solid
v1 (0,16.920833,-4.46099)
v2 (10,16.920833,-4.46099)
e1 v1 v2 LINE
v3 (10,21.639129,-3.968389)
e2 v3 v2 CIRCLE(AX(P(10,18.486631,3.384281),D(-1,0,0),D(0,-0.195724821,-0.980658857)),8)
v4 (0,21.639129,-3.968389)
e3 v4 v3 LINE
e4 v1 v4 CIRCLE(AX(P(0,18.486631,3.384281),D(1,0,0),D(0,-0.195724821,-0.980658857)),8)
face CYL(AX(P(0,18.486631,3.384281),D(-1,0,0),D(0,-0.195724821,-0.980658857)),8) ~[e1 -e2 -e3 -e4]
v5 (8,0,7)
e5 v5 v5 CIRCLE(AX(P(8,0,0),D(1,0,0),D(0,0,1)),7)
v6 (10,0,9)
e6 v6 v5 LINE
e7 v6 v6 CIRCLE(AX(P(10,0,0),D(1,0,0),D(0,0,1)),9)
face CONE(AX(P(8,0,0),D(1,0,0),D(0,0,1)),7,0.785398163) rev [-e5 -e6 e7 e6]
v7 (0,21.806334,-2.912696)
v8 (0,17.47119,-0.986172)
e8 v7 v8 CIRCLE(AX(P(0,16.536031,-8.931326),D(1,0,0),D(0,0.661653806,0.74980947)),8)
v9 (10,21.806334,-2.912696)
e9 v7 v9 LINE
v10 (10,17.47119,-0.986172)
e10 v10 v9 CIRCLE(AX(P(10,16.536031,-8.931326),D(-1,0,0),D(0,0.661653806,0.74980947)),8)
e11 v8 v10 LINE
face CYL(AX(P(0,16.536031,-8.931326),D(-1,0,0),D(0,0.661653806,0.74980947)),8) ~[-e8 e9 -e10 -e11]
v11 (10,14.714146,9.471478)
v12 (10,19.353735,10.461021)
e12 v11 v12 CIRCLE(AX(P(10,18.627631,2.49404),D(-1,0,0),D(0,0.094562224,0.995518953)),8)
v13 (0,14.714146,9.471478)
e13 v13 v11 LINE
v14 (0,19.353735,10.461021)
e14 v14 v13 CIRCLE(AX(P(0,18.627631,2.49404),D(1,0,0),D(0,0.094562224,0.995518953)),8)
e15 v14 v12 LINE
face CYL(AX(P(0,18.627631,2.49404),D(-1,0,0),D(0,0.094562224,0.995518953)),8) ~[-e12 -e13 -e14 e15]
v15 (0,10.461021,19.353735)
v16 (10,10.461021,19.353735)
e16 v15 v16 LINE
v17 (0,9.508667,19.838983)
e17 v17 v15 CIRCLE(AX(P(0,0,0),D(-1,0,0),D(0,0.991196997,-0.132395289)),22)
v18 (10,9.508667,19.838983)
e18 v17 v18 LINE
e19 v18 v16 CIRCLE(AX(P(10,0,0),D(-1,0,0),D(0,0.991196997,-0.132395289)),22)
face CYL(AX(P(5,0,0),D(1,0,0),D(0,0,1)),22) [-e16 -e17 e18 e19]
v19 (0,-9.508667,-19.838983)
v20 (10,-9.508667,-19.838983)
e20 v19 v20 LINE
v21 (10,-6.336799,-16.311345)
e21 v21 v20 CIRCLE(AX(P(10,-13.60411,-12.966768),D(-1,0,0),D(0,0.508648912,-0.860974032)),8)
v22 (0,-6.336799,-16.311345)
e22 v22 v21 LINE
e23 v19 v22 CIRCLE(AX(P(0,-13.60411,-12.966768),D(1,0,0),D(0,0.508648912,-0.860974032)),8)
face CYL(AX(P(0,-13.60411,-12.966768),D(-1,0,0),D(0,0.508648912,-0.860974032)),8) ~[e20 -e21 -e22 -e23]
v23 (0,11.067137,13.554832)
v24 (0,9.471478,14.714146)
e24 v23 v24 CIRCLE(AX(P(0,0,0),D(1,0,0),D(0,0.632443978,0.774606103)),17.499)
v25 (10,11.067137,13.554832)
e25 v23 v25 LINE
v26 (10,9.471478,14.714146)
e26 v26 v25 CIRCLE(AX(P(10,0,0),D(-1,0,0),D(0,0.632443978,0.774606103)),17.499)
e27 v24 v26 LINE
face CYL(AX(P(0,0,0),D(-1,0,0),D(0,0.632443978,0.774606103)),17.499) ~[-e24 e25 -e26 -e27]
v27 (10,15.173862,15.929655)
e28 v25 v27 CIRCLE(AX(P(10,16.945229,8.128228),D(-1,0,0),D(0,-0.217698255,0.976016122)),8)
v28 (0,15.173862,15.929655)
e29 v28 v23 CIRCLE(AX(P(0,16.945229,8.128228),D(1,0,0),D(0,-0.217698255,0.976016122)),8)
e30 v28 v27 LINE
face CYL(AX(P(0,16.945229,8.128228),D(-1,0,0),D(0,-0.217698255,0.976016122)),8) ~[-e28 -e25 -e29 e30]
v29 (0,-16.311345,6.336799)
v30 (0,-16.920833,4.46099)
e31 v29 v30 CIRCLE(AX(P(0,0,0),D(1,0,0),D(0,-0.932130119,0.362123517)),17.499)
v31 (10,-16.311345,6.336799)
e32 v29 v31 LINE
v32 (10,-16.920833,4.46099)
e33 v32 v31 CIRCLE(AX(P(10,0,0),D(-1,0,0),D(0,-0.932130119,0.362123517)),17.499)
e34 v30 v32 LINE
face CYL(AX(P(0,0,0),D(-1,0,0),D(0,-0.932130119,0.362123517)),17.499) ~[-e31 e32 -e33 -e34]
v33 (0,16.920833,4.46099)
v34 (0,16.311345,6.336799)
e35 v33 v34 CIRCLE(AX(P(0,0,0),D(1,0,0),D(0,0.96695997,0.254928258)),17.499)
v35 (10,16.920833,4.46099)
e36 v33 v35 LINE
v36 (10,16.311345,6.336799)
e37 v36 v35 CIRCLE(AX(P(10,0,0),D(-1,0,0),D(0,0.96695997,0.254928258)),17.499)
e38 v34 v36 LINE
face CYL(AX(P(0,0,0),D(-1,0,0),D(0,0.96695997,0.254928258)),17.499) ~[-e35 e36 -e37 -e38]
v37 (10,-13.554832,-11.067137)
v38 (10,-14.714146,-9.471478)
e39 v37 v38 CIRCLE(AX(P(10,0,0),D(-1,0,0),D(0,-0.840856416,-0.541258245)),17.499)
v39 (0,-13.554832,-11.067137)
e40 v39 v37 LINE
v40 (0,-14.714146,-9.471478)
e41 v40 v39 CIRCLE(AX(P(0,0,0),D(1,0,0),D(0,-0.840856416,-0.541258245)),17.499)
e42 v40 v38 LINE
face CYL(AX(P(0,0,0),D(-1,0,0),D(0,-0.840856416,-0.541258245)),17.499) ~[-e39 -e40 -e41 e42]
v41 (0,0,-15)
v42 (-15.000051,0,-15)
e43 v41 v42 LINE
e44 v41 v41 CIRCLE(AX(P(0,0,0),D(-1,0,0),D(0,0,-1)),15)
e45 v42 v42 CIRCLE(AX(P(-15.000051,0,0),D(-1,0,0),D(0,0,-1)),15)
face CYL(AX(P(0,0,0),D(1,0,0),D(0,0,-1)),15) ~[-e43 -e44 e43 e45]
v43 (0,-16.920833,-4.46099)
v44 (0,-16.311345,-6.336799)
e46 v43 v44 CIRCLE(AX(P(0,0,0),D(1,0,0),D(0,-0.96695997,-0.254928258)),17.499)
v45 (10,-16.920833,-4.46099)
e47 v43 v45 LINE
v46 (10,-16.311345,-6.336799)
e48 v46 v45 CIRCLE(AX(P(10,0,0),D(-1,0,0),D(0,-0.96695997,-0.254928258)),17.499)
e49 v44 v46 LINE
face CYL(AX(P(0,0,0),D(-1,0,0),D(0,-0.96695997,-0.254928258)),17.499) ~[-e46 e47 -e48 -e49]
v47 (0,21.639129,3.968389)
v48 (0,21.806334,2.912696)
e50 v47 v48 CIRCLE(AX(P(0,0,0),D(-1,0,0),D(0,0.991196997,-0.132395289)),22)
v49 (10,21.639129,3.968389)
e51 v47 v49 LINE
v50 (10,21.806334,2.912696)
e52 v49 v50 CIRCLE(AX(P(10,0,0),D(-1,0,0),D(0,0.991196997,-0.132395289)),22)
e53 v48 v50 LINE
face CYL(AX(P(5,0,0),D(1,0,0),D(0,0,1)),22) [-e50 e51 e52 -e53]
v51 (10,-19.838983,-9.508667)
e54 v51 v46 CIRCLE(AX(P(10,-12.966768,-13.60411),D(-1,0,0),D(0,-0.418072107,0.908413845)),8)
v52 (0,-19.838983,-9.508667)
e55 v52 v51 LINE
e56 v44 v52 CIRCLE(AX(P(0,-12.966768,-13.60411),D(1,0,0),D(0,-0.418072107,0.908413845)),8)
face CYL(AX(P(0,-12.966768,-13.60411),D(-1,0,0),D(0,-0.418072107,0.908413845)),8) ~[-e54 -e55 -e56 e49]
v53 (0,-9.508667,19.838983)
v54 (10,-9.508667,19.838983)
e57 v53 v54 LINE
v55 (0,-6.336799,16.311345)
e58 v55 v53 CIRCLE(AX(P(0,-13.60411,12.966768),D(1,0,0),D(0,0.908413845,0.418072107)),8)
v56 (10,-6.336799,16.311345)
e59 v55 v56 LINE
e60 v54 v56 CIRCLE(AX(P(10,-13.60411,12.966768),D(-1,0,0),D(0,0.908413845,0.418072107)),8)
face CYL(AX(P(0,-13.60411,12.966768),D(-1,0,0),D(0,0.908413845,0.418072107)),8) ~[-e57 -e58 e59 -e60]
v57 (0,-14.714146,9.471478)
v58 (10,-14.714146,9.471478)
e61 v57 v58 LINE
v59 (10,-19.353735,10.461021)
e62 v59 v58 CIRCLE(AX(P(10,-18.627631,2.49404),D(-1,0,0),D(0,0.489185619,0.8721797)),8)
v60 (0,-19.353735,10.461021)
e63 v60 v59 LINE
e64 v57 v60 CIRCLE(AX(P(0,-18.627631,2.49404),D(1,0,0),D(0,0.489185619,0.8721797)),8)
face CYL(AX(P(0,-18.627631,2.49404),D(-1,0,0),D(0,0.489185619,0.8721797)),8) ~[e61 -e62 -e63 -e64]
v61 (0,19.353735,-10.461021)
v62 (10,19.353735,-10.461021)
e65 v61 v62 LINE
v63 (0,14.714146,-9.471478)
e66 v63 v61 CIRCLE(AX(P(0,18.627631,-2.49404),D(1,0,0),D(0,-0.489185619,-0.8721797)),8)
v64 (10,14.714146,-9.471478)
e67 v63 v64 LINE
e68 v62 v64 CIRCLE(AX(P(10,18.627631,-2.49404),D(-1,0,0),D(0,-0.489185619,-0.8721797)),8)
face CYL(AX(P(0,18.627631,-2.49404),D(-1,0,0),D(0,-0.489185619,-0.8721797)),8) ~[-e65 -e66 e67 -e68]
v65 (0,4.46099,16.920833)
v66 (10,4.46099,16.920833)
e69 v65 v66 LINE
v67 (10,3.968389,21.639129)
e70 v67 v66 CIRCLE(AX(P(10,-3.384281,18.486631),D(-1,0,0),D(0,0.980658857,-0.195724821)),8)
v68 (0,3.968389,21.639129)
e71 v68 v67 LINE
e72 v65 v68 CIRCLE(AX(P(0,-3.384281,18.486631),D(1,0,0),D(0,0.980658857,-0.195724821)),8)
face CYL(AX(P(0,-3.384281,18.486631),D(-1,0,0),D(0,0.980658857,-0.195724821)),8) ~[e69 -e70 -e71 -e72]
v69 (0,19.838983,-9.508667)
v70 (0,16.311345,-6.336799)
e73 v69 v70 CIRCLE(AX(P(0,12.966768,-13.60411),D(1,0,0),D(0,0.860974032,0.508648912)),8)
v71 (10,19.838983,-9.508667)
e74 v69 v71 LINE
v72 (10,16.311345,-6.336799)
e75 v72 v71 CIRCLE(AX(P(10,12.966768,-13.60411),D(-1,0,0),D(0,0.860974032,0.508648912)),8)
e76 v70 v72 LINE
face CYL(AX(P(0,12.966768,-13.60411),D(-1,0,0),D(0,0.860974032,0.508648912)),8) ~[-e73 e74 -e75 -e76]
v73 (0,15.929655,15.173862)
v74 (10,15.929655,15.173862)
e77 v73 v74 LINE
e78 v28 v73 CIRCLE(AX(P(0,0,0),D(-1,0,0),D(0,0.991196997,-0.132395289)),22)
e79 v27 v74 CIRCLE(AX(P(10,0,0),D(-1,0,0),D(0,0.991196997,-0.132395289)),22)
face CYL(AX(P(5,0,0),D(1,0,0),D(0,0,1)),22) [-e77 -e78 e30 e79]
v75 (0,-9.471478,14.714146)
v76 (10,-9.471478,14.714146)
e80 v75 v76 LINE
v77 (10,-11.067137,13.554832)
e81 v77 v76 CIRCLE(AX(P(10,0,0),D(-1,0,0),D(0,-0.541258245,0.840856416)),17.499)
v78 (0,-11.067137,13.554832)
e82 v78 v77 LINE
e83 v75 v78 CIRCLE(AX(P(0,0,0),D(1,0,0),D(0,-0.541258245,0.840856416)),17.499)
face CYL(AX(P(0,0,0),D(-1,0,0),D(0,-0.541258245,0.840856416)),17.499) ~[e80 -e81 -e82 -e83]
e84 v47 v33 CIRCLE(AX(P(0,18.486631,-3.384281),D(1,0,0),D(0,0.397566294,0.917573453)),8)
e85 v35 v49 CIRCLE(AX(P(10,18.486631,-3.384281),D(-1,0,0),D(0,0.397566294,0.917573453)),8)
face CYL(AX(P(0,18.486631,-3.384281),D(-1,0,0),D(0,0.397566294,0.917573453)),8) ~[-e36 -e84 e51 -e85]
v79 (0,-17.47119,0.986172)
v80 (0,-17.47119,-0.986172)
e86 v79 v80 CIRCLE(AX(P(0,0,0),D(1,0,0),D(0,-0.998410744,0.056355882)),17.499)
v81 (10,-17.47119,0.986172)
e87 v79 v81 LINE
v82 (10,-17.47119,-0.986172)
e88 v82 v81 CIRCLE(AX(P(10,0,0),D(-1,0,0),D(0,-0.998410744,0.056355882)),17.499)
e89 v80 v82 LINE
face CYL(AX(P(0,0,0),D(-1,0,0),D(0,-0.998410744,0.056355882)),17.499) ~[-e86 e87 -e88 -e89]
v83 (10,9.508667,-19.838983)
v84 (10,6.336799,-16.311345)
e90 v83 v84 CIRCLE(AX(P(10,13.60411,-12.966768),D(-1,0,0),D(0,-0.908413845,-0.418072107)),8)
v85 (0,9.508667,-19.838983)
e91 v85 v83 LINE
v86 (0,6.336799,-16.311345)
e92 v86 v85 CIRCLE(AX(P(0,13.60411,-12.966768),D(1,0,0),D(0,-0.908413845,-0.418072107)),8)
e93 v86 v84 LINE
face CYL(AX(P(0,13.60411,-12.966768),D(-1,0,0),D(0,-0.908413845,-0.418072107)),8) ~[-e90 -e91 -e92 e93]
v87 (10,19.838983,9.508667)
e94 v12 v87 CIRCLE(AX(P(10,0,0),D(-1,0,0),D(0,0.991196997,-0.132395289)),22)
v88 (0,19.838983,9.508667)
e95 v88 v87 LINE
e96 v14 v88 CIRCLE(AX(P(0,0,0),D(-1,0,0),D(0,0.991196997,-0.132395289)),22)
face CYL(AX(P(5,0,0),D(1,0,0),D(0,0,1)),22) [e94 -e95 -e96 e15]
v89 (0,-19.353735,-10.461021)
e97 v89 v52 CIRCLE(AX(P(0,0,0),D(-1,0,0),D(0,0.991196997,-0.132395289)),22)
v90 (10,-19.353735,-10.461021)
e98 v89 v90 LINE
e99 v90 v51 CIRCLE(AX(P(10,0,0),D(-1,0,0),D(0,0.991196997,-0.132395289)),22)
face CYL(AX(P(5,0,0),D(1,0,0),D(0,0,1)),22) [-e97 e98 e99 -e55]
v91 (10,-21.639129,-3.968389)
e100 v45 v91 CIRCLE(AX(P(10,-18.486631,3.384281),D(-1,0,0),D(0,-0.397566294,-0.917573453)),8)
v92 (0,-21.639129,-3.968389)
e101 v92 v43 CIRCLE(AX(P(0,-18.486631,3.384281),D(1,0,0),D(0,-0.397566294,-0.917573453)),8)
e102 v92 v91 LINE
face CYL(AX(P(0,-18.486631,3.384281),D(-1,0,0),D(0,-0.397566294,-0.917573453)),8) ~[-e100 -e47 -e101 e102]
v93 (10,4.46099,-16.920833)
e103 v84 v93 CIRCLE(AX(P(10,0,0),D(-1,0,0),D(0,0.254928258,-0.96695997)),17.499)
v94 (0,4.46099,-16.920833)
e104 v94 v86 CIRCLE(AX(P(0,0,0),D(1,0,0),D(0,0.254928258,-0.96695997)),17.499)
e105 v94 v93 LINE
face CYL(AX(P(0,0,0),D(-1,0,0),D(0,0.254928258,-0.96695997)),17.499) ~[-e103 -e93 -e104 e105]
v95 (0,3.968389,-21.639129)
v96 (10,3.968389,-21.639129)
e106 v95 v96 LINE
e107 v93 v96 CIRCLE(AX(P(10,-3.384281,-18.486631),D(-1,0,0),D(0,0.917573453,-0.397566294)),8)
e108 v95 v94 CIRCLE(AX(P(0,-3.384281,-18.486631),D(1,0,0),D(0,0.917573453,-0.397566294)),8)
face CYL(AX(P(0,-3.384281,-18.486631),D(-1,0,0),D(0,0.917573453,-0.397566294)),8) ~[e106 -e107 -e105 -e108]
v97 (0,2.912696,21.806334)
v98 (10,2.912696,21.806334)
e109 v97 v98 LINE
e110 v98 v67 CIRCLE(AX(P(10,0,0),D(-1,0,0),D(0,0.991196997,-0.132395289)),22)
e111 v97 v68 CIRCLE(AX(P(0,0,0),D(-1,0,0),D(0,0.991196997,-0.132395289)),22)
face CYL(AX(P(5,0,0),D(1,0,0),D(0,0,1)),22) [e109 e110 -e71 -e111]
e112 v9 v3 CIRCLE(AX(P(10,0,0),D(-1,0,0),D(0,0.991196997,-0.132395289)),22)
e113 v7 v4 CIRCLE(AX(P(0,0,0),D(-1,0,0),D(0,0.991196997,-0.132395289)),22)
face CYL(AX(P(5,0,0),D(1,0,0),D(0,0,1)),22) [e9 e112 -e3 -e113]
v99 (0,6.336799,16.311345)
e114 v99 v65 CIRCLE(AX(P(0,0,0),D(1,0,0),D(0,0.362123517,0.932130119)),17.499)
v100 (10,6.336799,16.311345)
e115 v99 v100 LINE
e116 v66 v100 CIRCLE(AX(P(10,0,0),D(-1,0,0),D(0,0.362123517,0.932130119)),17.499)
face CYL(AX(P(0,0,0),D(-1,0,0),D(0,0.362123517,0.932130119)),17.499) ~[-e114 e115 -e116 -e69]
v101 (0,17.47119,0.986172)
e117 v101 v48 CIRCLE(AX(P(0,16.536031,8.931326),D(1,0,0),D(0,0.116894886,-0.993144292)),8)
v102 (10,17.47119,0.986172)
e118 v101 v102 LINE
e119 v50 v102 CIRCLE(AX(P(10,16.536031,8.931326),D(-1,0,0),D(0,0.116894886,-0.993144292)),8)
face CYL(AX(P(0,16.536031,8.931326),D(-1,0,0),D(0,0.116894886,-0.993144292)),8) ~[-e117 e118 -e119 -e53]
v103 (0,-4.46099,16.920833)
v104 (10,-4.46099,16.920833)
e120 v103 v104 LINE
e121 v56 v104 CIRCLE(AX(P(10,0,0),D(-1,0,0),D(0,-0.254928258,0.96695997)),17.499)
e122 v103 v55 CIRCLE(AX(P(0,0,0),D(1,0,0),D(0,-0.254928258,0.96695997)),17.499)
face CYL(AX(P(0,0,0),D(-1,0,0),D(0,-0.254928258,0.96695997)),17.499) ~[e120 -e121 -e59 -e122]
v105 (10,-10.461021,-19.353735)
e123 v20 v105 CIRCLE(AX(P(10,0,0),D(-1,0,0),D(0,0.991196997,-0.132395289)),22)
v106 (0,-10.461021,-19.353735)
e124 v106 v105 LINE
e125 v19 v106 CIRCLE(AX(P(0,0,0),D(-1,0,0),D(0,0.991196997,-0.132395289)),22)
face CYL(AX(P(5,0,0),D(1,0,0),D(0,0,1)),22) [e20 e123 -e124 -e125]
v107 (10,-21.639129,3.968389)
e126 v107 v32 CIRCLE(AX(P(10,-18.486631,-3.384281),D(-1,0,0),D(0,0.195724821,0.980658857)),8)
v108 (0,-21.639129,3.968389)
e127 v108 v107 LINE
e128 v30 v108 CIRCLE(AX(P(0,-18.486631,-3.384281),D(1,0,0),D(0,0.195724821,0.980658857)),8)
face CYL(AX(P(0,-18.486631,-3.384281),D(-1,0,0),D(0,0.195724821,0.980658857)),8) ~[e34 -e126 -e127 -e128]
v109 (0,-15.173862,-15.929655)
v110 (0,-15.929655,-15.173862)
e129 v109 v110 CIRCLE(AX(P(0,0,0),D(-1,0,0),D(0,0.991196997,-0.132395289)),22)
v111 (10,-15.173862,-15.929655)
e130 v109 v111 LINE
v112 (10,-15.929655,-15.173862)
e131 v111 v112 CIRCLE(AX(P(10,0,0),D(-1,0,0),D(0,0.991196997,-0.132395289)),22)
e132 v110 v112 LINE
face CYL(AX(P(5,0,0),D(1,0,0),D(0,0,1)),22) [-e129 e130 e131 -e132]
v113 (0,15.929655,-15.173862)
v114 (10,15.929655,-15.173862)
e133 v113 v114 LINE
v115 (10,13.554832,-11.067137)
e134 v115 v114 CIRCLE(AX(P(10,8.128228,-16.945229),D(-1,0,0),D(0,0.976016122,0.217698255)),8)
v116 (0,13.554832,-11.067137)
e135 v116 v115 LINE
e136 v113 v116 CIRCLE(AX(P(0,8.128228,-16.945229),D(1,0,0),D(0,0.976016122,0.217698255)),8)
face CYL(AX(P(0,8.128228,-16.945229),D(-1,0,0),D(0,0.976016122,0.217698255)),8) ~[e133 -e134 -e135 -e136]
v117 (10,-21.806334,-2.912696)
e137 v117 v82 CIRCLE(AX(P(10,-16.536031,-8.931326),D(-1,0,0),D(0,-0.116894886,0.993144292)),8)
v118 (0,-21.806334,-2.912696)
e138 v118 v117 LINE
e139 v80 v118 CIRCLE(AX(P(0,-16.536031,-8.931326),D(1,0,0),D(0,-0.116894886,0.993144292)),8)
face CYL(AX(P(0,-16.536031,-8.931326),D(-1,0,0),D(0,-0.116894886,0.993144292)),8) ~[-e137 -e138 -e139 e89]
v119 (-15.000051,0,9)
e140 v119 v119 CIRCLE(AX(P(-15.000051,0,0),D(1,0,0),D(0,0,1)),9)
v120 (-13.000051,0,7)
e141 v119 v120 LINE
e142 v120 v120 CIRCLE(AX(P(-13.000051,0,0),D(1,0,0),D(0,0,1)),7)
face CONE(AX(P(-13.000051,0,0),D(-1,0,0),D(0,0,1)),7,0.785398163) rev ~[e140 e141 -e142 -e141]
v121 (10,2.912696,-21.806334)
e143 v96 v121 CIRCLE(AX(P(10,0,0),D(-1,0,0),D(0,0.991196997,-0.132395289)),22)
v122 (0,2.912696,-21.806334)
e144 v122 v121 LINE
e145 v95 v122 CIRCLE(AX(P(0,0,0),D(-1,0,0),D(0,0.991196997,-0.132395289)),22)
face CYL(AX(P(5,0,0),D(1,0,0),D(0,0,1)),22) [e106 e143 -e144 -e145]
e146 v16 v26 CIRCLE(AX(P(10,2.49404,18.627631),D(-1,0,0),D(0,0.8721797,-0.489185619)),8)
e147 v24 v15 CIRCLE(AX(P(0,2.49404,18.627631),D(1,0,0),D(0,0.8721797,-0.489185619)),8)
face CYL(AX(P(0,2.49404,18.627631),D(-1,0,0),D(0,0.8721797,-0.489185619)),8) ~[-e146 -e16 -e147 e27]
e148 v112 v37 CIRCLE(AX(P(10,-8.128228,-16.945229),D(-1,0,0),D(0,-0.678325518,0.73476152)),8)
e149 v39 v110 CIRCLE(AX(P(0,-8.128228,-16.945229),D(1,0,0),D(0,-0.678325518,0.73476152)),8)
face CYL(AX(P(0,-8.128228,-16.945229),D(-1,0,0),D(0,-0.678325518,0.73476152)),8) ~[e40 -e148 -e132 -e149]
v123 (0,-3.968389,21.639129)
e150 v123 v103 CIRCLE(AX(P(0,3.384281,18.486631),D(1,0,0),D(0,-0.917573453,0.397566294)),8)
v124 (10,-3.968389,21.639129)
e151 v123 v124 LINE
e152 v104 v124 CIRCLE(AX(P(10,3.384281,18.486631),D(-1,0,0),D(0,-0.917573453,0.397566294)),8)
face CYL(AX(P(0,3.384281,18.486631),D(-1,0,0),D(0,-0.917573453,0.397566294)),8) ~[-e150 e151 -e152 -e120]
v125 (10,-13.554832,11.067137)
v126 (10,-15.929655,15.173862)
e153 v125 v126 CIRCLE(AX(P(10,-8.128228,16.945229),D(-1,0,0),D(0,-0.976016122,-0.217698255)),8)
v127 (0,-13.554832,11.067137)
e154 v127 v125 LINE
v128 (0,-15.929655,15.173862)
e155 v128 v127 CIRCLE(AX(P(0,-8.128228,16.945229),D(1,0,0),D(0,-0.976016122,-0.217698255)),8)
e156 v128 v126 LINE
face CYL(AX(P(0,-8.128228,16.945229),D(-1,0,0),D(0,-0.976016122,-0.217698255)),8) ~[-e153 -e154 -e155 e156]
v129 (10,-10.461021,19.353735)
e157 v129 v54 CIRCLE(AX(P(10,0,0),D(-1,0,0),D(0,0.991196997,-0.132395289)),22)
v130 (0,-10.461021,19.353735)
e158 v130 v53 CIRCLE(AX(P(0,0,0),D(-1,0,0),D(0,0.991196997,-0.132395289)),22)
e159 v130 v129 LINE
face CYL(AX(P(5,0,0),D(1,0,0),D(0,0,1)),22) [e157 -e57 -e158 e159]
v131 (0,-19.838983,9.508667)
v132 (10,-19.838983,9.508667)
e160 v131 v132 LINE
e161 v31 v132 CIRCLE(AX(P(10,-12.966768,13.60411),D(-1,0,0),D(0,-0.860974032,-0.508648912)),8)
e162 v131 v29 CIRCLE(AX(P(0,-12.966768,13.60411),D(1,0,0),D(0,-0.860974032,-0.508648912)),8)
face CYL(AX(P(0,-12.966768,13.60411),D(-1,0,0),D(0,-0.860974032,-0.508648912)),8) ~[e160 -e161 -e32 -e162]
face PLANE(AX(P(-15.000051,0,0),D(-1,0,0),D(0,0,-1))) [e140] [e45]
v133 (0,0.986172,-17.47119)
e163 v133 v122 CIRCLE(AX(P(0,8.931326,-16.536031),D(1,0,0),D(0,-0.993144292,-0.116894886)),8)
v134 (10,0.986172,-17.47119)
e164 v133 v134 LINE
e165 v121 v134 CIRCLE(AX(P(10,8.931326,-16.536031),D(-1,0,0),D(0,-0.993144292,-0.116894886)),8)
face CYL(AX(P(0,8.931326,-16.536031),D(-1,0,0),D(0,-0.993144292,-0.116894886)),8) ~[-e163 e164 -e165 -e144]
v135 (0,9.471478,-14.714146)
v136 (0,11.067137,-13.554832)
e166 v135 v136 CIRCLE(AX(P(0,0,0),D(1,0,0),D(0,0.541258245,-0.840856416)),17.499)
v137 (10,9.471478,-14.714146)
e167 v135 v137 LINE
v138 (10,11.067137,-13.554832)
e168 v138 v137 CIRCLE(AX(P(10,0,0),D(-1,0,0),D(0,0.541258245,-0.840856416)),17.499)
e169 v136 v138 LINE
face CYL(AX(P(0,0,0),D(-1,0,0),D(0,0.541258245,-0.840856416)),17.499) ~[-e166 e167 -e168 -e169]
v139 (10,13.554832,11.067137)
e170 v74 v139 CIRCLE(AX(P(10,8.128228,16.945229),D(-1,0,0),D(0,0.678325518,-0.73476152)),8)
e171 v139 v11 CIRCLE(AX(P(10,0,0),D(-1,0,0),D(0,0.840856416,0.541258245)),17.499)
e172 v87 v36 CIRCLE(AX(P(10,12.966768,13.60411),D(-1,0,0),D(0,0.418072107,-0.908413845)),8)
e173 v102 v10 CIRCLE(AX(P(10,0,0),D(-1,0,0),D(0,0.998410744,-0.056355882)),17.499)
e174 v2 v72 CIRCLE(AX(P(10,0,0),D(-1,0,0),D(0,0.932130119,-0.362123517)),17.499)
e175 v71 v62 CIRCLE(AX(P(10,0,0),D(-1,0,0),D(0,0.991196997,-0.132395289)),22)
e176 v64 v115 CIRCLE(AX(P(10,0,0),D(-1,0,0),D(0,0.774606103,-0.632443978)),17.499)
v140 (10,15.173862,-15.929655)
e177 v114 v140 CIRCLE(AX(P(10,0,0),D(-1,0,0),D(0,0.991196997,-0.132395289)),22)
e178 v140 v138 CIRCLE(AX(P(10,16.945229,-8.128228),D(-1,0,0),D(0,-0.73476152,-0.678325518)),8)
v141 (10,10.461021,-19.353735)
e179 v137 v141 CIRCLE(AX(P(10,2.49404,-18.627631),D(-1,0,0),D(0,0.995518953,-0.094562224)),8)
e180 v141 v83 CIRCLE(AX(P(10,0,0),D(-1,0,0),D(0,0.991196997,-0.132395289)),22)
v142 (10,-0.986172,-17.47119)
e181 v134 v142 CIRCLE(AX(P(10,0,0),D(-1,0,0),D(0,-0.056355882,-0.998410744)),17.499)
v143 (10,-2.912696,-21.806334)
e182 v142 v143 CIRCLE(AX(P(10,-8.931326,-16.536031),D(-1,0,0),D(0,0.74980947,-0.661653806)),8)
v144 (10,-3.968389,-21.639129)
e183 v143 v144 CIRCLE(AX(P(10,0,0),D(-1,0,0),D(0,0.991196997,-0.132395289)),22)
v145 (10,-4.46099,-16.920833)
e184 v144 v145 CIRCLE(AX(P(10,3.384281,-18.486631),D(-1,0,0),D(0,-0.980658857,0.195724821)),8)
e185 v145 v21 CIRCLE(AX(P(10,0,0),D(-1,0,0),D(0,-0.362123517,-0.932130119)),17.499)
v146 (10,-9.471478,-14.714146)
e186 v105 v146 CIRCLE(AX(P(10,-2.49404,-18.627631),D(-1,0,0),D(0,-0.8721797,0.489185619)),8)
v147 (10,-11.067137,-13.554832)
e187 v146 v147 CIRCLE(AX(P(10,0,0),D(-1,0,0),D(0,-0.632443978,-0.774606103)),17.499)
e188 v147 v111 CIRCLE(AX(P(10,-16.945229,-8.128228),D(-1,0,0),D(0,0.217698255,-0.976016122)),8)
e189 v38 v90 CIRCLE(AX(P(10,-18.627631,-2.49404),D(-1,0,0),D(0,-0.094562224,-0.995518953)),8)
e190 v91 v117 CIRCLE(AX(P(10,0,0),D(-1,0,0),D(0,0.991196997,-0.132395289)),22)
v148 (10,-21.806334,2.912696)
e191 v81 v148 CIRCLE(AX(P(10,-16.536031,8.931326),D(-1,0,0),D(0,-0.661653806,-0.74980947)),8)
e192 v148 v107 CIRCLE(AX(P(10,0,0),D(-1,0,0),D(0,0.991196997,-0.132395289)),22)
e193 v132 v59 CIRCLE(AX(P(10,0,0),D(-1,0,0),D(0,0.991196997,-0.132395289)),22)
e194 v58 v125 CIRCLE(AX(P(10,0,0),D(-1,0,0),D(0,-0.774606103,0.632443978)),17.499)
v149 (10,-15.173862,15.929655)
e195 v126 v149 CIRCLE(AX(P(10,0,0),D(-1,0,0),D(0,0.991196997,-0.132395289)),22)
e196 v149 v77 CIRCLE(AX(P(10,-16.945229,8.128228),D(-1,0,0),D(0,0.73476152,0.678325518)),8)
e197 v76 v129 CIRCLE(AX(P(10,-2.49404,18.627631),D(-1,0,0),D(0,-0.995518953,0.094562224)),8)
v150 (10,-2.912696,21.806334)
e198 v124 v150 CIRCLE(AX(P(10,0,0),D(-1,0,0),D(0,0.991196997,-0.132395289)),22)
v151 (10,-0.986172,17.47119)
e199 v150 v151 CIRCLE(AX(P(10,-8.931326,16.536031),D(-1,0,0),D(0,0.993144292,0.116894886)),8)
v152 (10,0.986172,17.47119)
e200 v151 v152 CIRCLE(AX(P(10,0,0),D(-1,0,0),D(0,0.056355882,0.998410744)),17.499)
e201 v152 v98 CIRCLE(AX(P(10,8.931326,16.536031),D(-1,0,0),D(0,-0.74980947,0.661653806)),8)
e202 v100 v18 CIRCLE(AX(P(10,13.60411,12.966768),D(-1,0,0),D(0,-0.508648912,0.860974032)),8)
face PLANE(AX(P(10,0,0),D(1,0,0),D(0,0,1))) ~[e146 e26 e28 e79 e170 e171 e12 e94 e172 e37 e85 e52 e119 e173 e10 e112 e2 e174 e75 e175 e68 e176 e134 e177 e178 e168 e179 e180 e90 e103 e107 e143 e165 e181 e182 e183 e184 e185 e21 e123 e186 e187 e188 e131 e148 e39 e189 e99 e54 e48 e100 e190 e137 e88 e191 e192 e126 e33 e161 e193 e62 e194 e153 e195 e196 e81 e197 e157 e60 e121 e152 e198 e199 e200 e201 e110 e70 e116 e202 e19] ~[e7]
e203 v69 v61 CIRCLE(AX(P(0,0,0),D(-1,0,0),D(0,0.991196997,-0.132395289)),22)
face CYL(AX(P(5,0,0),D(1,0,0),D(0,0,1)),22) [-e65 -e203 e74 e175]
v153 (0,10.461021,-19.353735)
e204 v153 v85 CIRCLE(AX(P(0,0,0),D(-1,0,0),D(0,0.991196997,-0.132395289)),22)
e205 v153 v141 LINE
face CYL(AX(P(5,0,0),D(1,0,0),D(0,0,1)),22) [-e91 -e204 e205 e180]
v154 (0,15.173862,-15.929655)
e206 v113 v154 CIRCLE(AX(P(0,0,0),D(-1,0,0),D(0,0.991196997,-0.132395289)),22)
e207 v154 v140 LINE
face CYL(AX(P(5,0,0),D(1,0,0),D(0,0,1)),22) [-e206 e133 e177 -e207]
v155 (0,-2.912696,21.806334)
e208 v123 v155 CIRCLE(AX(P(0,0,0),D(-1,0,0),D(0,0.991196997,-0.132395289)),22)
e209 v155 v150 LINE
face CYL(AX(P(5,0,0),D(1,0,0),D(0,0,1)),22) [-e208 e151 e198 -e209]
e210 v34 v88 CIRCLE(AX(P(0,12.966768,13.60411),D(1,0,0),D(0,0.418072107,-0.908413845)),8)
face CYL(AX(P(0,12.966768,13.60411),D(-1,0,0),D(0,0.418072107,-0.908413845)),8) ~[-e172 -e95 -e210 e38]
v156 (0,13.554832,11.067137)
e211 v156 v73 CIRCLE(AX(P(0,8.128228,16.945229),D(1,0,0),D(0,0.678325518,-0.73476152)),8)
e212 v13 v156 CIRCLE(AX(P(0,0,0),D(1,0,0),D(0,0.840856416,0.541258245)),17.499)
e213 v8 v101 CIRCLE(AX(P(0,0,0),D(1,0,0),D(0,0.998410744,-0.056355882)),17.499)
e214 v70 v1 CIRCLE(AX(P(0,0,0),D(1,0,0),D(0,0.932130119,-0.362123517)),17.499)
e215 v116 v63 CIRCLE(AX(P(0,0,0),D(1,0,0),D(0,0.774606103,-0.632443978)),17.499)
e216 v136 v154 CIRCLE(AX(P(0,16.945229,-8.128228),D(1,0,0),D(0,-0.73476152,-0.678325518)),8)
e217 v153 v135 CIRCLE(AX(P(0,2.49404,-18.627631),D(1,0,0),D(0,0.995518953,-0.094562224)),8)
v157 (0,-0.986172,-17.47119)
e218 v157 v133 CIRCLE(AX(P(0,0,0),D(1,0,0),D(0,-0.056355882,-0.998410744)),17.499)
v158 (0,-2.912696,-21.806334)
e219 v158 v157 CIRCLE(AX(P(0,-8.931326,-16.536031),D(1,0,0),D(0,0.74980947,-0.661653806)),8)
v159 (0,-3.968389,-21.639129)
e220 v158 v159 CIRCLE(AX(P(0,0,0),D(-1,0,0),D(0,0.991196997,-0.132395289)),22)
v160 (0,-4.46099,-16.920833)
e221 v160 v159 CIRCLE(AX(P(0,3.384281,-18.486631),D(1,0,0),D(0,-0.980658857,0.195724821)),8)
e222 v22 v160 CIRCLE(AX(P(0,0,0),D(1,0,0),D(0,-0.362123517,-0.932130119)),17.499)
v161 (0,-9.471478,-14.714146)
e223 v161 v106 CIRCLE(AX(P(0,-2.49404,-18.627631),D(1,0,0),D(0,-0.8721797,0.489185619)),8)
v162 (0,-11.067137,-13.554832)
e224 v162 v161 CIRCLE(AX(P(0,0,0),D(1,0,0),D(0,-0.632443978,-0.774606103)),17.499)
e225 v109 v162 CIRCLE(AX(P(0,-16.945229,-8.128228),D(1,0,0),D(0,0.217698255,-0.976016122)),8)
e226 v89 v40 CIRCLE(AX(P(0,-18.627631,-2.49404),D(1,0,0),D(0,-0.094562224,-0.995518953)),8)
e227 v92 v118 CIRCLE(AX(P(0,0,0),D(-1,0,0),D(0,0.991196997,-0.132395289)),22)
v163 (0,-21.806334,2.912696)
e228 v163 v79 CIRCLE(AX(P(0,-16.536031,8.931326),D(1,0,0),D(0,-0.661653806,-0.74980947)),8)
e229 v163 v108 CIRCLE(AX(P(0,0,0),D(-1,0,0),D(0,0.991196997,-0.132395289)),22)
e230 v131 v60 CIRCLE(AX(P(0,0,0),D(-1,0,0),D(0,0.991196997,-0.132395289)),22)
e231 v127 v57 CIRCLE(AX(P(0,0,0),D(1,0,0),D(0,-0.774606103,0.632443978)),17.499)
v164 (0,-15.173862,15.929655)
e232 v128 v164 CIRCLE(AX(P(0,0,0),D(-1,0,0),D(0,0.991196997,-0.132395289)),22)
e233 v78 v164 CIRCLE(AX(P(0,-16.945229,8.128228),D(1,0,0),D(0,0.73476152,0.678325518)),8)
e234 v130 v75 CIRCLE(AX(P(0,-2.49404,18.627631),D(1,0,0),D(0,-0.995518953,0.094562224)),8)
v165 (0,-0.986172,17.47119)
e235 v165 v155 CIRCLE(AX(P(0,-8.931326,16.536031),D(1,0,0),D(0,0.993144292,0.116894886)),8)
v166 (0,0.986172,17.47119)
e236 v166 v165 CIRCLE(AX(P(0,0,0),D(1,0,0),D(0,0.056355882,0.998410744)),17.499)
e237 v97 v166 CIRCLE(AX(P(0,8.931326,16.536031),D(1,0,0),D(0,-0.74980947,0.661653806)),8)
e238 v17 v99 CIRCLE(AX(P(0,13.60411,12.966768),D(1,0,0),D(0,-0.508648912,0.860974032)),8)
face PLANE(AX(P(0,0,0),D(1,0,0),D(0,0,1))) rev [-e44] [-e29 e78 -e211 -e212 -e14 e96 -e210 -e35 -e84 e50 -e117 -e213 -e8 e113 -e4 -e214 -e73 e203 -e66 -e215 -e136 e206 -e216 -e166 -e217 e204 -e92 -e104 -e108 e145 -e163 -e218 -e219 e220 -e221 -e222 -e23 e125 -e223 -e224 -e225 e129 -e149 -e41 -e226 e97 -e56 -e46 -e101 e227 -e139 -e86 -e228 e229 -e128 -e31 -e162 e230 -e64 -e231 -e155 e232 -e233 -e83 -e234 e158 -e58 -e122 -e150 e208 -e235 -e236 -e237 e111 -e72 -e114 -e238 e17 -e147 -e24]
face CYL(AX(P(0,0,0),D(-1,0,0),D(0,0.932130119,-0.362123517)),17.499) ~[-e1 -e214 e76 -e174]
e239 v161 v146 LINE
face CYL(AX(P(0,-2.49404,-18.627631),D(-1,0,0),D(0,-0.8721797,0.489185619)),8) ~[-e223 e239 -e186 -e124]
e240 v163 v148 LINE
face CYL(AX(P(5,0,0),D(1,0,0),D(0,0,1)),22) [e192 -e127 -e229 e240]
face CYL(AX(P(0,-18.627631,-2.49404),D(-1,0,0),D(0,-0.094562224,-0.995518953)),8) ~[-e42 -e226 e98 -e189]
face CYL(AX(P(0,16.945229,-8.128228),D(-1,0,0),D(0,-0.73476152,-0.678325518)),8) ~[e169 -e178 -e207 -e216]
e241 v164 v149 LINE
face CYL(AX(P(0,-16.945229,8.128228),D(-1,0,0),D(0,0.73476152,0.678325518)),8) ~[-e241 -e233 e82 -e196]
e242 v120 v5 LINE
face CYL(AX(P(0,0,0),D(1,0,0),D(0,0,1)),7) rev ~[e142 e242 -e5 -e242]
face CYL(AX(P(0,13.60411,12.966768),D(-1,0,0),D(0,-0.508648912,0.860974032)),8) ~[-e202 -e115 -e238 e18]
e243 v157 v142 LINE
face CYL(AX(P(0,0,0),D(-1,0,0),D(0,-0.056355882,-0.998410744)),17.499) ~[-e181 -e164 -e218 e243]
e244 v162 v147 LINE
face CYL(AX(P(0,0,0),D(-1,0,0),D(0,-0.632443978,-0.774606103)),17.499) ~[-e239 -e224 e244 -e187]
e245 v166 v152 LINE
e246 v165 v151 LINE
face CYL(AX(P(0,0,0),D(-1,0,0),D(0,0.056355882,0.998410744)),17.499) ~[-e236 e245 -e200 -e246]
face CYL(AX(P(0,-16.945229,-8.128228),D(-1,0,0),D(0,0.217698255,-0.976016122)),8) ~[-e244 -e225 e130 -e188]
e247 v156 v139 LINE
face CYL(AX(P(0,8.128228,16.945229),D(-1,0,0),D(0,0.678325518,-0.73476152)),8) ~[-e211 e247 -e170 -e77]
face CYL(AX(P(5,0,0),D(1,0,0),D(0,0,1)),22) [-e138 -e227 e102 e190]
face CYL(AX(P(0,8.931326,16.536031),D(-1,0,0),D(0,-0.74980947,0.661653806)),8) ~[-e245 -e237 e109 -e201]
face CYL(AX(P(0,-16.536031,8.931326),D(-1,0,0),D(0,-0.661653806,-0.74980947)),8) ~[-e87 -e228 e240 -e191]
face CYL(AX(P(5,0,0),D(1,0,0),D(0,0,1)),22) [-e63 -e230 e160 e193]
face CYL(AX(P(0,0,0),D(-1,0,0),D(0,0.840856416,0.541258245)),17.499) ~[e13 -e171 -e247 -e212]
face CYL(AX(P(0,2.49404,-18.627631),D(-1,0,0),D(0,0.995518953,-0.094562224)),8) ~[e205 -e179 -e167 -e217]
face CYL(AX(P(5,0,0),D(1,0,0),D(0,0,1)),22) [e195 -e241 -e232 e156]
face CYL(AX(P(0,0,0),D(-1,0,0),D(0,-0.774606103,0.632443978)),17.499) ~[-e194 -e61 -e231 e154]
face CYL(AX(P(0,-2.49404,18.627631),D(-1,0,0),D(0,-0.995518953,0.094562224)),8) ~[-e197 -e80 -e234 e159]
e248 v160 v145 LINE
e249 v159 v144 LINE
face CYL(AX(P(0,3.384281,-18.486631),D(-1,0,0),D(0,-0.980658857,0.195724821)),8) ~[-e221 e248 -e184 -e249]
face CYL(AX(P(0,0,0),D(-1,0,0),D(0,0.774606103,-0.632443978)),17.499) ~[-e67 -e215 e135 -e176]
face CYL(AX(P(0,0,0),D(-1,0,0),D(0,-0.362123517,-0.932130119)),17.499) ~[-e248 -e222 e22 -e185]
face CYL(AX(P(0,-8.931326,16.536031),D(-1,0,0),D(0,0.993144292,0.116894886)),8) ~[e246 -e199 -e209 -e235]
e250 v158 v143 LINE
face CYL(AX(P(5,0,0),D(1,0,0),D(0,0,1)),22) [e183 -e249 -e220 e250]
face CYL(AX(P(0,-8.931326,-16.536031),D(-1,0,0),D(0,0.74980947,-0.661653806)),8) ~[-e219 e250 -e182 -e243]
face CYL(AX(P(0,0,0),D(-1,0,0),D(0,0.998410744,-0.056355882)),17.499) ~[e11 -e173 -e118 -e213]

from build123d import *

# Parameters (mm, degrees)
BASPROSKE_W      = 10
BASPROSKE_H      = 22
TOOTHCUT_DEPTH   = 33.680269277
TEETHCUTS_COUNT  = 20
TEETHCUTS_ANGLE  = 342
HUBNEAONESKE_R   = 15
HUBNEARONE_DEPTH = 15.0000508
BORSKE_R         = 7
BORE_DEPTH       = 25.0000508
CHAMFER_1_SIZE   = 2


with BuildPart() as part:
    # BasProSke → Base-Revolve (revolve)
    with BuildSketch(Plane(origin=(0, 0, 0), x_dir=(1, 0, 0), z_dir=(0, 1, 0)), mode=Mode.PRIVATE) as base_revolve_sk:
        with Locations((5, 11)):
            Rectangle(BASPROSKE_W, BASPROSKE_H)
    revolve(base_revolve_sk.sketch.rotate(Axis((-10, 0, 0), (1, 0, 0)), 180), axis=Axis((-10, 0, 0), (1, 0, 0)))

    # TooCutSke → ToothCut (cut, through all)
    with BuildSketch(Plane(origin=(0, 0, 0), x_dir=(0, 0, -1), z_dir=(1, 0, 0))):
        with BuildLine():
            ThreePointArc((0.986171591, 17.471189616), (0, 17.499), (-0.986171591, 17.471189616))
            ThreePointArc((-0.986171591, 17.471189616), (-1.626916196, 19.798789858), (-2.932850173, 21.829260982))
            ThreePointArc((-2.932850173, 21.829260982), (0, 22.0254), (2.932850173, 21.829260982))
            ThreePointArc((2.932850173, 21.829260982), (1.626916196, 19.798789858), (0.986171591, 17.471189616))
        make_face()
    toothcut = extrude(amount=TOOTHCUT_DEPTH, mode=Mode.SUBTRACT)

    # TeethCuts: ToothCut ×20 about axis
    teethcuts_axis = Axis((-10, 0, 0), (1, 0, 0))
    for i in range(1, TEETHCUTS_COUNT):
        add(toothcut.rotate(teethcuts_axis, i * TEETHCUTS_ANGLE / (TEETHCUTS_COUNT - 1)), mode=Mode.SUBTRACT)

    # HubNeaOneSke → HubNearOne (add)
    with BuildSketch(Plane.ZY):
        with Locations(Location((0, 0, 0), (0, 0, 180))):
            Circle(HUBNEAONESKE_R)
    extrude(amount=HUBNEARONE_DEPTH)

    # BorSke → Bore (cut, symmetric)
    with BuildSketch(Plane(origin=(0, 0, 0), x_dir=(0, 0, -1), z_dir=(1, 0, 0))):
        with Locations(Location((0, 0, 0), (0, 0, 180))):
            Circle(BORSKE_R)
    extrude(amount=BORE_DEPTH, both=True, mode=Mode.SUBTRACT)

    # 倒角1
    chamfer_1_edges = [part.edges().sort_by_distance(p)[0] for p in [
        (-15.0000508, 0, -7),
        (10, 0, -7),
    ]]
    chamfer(chamfer_1_edges, length=CHAMFER_1_SIZE)


solid = part.part
